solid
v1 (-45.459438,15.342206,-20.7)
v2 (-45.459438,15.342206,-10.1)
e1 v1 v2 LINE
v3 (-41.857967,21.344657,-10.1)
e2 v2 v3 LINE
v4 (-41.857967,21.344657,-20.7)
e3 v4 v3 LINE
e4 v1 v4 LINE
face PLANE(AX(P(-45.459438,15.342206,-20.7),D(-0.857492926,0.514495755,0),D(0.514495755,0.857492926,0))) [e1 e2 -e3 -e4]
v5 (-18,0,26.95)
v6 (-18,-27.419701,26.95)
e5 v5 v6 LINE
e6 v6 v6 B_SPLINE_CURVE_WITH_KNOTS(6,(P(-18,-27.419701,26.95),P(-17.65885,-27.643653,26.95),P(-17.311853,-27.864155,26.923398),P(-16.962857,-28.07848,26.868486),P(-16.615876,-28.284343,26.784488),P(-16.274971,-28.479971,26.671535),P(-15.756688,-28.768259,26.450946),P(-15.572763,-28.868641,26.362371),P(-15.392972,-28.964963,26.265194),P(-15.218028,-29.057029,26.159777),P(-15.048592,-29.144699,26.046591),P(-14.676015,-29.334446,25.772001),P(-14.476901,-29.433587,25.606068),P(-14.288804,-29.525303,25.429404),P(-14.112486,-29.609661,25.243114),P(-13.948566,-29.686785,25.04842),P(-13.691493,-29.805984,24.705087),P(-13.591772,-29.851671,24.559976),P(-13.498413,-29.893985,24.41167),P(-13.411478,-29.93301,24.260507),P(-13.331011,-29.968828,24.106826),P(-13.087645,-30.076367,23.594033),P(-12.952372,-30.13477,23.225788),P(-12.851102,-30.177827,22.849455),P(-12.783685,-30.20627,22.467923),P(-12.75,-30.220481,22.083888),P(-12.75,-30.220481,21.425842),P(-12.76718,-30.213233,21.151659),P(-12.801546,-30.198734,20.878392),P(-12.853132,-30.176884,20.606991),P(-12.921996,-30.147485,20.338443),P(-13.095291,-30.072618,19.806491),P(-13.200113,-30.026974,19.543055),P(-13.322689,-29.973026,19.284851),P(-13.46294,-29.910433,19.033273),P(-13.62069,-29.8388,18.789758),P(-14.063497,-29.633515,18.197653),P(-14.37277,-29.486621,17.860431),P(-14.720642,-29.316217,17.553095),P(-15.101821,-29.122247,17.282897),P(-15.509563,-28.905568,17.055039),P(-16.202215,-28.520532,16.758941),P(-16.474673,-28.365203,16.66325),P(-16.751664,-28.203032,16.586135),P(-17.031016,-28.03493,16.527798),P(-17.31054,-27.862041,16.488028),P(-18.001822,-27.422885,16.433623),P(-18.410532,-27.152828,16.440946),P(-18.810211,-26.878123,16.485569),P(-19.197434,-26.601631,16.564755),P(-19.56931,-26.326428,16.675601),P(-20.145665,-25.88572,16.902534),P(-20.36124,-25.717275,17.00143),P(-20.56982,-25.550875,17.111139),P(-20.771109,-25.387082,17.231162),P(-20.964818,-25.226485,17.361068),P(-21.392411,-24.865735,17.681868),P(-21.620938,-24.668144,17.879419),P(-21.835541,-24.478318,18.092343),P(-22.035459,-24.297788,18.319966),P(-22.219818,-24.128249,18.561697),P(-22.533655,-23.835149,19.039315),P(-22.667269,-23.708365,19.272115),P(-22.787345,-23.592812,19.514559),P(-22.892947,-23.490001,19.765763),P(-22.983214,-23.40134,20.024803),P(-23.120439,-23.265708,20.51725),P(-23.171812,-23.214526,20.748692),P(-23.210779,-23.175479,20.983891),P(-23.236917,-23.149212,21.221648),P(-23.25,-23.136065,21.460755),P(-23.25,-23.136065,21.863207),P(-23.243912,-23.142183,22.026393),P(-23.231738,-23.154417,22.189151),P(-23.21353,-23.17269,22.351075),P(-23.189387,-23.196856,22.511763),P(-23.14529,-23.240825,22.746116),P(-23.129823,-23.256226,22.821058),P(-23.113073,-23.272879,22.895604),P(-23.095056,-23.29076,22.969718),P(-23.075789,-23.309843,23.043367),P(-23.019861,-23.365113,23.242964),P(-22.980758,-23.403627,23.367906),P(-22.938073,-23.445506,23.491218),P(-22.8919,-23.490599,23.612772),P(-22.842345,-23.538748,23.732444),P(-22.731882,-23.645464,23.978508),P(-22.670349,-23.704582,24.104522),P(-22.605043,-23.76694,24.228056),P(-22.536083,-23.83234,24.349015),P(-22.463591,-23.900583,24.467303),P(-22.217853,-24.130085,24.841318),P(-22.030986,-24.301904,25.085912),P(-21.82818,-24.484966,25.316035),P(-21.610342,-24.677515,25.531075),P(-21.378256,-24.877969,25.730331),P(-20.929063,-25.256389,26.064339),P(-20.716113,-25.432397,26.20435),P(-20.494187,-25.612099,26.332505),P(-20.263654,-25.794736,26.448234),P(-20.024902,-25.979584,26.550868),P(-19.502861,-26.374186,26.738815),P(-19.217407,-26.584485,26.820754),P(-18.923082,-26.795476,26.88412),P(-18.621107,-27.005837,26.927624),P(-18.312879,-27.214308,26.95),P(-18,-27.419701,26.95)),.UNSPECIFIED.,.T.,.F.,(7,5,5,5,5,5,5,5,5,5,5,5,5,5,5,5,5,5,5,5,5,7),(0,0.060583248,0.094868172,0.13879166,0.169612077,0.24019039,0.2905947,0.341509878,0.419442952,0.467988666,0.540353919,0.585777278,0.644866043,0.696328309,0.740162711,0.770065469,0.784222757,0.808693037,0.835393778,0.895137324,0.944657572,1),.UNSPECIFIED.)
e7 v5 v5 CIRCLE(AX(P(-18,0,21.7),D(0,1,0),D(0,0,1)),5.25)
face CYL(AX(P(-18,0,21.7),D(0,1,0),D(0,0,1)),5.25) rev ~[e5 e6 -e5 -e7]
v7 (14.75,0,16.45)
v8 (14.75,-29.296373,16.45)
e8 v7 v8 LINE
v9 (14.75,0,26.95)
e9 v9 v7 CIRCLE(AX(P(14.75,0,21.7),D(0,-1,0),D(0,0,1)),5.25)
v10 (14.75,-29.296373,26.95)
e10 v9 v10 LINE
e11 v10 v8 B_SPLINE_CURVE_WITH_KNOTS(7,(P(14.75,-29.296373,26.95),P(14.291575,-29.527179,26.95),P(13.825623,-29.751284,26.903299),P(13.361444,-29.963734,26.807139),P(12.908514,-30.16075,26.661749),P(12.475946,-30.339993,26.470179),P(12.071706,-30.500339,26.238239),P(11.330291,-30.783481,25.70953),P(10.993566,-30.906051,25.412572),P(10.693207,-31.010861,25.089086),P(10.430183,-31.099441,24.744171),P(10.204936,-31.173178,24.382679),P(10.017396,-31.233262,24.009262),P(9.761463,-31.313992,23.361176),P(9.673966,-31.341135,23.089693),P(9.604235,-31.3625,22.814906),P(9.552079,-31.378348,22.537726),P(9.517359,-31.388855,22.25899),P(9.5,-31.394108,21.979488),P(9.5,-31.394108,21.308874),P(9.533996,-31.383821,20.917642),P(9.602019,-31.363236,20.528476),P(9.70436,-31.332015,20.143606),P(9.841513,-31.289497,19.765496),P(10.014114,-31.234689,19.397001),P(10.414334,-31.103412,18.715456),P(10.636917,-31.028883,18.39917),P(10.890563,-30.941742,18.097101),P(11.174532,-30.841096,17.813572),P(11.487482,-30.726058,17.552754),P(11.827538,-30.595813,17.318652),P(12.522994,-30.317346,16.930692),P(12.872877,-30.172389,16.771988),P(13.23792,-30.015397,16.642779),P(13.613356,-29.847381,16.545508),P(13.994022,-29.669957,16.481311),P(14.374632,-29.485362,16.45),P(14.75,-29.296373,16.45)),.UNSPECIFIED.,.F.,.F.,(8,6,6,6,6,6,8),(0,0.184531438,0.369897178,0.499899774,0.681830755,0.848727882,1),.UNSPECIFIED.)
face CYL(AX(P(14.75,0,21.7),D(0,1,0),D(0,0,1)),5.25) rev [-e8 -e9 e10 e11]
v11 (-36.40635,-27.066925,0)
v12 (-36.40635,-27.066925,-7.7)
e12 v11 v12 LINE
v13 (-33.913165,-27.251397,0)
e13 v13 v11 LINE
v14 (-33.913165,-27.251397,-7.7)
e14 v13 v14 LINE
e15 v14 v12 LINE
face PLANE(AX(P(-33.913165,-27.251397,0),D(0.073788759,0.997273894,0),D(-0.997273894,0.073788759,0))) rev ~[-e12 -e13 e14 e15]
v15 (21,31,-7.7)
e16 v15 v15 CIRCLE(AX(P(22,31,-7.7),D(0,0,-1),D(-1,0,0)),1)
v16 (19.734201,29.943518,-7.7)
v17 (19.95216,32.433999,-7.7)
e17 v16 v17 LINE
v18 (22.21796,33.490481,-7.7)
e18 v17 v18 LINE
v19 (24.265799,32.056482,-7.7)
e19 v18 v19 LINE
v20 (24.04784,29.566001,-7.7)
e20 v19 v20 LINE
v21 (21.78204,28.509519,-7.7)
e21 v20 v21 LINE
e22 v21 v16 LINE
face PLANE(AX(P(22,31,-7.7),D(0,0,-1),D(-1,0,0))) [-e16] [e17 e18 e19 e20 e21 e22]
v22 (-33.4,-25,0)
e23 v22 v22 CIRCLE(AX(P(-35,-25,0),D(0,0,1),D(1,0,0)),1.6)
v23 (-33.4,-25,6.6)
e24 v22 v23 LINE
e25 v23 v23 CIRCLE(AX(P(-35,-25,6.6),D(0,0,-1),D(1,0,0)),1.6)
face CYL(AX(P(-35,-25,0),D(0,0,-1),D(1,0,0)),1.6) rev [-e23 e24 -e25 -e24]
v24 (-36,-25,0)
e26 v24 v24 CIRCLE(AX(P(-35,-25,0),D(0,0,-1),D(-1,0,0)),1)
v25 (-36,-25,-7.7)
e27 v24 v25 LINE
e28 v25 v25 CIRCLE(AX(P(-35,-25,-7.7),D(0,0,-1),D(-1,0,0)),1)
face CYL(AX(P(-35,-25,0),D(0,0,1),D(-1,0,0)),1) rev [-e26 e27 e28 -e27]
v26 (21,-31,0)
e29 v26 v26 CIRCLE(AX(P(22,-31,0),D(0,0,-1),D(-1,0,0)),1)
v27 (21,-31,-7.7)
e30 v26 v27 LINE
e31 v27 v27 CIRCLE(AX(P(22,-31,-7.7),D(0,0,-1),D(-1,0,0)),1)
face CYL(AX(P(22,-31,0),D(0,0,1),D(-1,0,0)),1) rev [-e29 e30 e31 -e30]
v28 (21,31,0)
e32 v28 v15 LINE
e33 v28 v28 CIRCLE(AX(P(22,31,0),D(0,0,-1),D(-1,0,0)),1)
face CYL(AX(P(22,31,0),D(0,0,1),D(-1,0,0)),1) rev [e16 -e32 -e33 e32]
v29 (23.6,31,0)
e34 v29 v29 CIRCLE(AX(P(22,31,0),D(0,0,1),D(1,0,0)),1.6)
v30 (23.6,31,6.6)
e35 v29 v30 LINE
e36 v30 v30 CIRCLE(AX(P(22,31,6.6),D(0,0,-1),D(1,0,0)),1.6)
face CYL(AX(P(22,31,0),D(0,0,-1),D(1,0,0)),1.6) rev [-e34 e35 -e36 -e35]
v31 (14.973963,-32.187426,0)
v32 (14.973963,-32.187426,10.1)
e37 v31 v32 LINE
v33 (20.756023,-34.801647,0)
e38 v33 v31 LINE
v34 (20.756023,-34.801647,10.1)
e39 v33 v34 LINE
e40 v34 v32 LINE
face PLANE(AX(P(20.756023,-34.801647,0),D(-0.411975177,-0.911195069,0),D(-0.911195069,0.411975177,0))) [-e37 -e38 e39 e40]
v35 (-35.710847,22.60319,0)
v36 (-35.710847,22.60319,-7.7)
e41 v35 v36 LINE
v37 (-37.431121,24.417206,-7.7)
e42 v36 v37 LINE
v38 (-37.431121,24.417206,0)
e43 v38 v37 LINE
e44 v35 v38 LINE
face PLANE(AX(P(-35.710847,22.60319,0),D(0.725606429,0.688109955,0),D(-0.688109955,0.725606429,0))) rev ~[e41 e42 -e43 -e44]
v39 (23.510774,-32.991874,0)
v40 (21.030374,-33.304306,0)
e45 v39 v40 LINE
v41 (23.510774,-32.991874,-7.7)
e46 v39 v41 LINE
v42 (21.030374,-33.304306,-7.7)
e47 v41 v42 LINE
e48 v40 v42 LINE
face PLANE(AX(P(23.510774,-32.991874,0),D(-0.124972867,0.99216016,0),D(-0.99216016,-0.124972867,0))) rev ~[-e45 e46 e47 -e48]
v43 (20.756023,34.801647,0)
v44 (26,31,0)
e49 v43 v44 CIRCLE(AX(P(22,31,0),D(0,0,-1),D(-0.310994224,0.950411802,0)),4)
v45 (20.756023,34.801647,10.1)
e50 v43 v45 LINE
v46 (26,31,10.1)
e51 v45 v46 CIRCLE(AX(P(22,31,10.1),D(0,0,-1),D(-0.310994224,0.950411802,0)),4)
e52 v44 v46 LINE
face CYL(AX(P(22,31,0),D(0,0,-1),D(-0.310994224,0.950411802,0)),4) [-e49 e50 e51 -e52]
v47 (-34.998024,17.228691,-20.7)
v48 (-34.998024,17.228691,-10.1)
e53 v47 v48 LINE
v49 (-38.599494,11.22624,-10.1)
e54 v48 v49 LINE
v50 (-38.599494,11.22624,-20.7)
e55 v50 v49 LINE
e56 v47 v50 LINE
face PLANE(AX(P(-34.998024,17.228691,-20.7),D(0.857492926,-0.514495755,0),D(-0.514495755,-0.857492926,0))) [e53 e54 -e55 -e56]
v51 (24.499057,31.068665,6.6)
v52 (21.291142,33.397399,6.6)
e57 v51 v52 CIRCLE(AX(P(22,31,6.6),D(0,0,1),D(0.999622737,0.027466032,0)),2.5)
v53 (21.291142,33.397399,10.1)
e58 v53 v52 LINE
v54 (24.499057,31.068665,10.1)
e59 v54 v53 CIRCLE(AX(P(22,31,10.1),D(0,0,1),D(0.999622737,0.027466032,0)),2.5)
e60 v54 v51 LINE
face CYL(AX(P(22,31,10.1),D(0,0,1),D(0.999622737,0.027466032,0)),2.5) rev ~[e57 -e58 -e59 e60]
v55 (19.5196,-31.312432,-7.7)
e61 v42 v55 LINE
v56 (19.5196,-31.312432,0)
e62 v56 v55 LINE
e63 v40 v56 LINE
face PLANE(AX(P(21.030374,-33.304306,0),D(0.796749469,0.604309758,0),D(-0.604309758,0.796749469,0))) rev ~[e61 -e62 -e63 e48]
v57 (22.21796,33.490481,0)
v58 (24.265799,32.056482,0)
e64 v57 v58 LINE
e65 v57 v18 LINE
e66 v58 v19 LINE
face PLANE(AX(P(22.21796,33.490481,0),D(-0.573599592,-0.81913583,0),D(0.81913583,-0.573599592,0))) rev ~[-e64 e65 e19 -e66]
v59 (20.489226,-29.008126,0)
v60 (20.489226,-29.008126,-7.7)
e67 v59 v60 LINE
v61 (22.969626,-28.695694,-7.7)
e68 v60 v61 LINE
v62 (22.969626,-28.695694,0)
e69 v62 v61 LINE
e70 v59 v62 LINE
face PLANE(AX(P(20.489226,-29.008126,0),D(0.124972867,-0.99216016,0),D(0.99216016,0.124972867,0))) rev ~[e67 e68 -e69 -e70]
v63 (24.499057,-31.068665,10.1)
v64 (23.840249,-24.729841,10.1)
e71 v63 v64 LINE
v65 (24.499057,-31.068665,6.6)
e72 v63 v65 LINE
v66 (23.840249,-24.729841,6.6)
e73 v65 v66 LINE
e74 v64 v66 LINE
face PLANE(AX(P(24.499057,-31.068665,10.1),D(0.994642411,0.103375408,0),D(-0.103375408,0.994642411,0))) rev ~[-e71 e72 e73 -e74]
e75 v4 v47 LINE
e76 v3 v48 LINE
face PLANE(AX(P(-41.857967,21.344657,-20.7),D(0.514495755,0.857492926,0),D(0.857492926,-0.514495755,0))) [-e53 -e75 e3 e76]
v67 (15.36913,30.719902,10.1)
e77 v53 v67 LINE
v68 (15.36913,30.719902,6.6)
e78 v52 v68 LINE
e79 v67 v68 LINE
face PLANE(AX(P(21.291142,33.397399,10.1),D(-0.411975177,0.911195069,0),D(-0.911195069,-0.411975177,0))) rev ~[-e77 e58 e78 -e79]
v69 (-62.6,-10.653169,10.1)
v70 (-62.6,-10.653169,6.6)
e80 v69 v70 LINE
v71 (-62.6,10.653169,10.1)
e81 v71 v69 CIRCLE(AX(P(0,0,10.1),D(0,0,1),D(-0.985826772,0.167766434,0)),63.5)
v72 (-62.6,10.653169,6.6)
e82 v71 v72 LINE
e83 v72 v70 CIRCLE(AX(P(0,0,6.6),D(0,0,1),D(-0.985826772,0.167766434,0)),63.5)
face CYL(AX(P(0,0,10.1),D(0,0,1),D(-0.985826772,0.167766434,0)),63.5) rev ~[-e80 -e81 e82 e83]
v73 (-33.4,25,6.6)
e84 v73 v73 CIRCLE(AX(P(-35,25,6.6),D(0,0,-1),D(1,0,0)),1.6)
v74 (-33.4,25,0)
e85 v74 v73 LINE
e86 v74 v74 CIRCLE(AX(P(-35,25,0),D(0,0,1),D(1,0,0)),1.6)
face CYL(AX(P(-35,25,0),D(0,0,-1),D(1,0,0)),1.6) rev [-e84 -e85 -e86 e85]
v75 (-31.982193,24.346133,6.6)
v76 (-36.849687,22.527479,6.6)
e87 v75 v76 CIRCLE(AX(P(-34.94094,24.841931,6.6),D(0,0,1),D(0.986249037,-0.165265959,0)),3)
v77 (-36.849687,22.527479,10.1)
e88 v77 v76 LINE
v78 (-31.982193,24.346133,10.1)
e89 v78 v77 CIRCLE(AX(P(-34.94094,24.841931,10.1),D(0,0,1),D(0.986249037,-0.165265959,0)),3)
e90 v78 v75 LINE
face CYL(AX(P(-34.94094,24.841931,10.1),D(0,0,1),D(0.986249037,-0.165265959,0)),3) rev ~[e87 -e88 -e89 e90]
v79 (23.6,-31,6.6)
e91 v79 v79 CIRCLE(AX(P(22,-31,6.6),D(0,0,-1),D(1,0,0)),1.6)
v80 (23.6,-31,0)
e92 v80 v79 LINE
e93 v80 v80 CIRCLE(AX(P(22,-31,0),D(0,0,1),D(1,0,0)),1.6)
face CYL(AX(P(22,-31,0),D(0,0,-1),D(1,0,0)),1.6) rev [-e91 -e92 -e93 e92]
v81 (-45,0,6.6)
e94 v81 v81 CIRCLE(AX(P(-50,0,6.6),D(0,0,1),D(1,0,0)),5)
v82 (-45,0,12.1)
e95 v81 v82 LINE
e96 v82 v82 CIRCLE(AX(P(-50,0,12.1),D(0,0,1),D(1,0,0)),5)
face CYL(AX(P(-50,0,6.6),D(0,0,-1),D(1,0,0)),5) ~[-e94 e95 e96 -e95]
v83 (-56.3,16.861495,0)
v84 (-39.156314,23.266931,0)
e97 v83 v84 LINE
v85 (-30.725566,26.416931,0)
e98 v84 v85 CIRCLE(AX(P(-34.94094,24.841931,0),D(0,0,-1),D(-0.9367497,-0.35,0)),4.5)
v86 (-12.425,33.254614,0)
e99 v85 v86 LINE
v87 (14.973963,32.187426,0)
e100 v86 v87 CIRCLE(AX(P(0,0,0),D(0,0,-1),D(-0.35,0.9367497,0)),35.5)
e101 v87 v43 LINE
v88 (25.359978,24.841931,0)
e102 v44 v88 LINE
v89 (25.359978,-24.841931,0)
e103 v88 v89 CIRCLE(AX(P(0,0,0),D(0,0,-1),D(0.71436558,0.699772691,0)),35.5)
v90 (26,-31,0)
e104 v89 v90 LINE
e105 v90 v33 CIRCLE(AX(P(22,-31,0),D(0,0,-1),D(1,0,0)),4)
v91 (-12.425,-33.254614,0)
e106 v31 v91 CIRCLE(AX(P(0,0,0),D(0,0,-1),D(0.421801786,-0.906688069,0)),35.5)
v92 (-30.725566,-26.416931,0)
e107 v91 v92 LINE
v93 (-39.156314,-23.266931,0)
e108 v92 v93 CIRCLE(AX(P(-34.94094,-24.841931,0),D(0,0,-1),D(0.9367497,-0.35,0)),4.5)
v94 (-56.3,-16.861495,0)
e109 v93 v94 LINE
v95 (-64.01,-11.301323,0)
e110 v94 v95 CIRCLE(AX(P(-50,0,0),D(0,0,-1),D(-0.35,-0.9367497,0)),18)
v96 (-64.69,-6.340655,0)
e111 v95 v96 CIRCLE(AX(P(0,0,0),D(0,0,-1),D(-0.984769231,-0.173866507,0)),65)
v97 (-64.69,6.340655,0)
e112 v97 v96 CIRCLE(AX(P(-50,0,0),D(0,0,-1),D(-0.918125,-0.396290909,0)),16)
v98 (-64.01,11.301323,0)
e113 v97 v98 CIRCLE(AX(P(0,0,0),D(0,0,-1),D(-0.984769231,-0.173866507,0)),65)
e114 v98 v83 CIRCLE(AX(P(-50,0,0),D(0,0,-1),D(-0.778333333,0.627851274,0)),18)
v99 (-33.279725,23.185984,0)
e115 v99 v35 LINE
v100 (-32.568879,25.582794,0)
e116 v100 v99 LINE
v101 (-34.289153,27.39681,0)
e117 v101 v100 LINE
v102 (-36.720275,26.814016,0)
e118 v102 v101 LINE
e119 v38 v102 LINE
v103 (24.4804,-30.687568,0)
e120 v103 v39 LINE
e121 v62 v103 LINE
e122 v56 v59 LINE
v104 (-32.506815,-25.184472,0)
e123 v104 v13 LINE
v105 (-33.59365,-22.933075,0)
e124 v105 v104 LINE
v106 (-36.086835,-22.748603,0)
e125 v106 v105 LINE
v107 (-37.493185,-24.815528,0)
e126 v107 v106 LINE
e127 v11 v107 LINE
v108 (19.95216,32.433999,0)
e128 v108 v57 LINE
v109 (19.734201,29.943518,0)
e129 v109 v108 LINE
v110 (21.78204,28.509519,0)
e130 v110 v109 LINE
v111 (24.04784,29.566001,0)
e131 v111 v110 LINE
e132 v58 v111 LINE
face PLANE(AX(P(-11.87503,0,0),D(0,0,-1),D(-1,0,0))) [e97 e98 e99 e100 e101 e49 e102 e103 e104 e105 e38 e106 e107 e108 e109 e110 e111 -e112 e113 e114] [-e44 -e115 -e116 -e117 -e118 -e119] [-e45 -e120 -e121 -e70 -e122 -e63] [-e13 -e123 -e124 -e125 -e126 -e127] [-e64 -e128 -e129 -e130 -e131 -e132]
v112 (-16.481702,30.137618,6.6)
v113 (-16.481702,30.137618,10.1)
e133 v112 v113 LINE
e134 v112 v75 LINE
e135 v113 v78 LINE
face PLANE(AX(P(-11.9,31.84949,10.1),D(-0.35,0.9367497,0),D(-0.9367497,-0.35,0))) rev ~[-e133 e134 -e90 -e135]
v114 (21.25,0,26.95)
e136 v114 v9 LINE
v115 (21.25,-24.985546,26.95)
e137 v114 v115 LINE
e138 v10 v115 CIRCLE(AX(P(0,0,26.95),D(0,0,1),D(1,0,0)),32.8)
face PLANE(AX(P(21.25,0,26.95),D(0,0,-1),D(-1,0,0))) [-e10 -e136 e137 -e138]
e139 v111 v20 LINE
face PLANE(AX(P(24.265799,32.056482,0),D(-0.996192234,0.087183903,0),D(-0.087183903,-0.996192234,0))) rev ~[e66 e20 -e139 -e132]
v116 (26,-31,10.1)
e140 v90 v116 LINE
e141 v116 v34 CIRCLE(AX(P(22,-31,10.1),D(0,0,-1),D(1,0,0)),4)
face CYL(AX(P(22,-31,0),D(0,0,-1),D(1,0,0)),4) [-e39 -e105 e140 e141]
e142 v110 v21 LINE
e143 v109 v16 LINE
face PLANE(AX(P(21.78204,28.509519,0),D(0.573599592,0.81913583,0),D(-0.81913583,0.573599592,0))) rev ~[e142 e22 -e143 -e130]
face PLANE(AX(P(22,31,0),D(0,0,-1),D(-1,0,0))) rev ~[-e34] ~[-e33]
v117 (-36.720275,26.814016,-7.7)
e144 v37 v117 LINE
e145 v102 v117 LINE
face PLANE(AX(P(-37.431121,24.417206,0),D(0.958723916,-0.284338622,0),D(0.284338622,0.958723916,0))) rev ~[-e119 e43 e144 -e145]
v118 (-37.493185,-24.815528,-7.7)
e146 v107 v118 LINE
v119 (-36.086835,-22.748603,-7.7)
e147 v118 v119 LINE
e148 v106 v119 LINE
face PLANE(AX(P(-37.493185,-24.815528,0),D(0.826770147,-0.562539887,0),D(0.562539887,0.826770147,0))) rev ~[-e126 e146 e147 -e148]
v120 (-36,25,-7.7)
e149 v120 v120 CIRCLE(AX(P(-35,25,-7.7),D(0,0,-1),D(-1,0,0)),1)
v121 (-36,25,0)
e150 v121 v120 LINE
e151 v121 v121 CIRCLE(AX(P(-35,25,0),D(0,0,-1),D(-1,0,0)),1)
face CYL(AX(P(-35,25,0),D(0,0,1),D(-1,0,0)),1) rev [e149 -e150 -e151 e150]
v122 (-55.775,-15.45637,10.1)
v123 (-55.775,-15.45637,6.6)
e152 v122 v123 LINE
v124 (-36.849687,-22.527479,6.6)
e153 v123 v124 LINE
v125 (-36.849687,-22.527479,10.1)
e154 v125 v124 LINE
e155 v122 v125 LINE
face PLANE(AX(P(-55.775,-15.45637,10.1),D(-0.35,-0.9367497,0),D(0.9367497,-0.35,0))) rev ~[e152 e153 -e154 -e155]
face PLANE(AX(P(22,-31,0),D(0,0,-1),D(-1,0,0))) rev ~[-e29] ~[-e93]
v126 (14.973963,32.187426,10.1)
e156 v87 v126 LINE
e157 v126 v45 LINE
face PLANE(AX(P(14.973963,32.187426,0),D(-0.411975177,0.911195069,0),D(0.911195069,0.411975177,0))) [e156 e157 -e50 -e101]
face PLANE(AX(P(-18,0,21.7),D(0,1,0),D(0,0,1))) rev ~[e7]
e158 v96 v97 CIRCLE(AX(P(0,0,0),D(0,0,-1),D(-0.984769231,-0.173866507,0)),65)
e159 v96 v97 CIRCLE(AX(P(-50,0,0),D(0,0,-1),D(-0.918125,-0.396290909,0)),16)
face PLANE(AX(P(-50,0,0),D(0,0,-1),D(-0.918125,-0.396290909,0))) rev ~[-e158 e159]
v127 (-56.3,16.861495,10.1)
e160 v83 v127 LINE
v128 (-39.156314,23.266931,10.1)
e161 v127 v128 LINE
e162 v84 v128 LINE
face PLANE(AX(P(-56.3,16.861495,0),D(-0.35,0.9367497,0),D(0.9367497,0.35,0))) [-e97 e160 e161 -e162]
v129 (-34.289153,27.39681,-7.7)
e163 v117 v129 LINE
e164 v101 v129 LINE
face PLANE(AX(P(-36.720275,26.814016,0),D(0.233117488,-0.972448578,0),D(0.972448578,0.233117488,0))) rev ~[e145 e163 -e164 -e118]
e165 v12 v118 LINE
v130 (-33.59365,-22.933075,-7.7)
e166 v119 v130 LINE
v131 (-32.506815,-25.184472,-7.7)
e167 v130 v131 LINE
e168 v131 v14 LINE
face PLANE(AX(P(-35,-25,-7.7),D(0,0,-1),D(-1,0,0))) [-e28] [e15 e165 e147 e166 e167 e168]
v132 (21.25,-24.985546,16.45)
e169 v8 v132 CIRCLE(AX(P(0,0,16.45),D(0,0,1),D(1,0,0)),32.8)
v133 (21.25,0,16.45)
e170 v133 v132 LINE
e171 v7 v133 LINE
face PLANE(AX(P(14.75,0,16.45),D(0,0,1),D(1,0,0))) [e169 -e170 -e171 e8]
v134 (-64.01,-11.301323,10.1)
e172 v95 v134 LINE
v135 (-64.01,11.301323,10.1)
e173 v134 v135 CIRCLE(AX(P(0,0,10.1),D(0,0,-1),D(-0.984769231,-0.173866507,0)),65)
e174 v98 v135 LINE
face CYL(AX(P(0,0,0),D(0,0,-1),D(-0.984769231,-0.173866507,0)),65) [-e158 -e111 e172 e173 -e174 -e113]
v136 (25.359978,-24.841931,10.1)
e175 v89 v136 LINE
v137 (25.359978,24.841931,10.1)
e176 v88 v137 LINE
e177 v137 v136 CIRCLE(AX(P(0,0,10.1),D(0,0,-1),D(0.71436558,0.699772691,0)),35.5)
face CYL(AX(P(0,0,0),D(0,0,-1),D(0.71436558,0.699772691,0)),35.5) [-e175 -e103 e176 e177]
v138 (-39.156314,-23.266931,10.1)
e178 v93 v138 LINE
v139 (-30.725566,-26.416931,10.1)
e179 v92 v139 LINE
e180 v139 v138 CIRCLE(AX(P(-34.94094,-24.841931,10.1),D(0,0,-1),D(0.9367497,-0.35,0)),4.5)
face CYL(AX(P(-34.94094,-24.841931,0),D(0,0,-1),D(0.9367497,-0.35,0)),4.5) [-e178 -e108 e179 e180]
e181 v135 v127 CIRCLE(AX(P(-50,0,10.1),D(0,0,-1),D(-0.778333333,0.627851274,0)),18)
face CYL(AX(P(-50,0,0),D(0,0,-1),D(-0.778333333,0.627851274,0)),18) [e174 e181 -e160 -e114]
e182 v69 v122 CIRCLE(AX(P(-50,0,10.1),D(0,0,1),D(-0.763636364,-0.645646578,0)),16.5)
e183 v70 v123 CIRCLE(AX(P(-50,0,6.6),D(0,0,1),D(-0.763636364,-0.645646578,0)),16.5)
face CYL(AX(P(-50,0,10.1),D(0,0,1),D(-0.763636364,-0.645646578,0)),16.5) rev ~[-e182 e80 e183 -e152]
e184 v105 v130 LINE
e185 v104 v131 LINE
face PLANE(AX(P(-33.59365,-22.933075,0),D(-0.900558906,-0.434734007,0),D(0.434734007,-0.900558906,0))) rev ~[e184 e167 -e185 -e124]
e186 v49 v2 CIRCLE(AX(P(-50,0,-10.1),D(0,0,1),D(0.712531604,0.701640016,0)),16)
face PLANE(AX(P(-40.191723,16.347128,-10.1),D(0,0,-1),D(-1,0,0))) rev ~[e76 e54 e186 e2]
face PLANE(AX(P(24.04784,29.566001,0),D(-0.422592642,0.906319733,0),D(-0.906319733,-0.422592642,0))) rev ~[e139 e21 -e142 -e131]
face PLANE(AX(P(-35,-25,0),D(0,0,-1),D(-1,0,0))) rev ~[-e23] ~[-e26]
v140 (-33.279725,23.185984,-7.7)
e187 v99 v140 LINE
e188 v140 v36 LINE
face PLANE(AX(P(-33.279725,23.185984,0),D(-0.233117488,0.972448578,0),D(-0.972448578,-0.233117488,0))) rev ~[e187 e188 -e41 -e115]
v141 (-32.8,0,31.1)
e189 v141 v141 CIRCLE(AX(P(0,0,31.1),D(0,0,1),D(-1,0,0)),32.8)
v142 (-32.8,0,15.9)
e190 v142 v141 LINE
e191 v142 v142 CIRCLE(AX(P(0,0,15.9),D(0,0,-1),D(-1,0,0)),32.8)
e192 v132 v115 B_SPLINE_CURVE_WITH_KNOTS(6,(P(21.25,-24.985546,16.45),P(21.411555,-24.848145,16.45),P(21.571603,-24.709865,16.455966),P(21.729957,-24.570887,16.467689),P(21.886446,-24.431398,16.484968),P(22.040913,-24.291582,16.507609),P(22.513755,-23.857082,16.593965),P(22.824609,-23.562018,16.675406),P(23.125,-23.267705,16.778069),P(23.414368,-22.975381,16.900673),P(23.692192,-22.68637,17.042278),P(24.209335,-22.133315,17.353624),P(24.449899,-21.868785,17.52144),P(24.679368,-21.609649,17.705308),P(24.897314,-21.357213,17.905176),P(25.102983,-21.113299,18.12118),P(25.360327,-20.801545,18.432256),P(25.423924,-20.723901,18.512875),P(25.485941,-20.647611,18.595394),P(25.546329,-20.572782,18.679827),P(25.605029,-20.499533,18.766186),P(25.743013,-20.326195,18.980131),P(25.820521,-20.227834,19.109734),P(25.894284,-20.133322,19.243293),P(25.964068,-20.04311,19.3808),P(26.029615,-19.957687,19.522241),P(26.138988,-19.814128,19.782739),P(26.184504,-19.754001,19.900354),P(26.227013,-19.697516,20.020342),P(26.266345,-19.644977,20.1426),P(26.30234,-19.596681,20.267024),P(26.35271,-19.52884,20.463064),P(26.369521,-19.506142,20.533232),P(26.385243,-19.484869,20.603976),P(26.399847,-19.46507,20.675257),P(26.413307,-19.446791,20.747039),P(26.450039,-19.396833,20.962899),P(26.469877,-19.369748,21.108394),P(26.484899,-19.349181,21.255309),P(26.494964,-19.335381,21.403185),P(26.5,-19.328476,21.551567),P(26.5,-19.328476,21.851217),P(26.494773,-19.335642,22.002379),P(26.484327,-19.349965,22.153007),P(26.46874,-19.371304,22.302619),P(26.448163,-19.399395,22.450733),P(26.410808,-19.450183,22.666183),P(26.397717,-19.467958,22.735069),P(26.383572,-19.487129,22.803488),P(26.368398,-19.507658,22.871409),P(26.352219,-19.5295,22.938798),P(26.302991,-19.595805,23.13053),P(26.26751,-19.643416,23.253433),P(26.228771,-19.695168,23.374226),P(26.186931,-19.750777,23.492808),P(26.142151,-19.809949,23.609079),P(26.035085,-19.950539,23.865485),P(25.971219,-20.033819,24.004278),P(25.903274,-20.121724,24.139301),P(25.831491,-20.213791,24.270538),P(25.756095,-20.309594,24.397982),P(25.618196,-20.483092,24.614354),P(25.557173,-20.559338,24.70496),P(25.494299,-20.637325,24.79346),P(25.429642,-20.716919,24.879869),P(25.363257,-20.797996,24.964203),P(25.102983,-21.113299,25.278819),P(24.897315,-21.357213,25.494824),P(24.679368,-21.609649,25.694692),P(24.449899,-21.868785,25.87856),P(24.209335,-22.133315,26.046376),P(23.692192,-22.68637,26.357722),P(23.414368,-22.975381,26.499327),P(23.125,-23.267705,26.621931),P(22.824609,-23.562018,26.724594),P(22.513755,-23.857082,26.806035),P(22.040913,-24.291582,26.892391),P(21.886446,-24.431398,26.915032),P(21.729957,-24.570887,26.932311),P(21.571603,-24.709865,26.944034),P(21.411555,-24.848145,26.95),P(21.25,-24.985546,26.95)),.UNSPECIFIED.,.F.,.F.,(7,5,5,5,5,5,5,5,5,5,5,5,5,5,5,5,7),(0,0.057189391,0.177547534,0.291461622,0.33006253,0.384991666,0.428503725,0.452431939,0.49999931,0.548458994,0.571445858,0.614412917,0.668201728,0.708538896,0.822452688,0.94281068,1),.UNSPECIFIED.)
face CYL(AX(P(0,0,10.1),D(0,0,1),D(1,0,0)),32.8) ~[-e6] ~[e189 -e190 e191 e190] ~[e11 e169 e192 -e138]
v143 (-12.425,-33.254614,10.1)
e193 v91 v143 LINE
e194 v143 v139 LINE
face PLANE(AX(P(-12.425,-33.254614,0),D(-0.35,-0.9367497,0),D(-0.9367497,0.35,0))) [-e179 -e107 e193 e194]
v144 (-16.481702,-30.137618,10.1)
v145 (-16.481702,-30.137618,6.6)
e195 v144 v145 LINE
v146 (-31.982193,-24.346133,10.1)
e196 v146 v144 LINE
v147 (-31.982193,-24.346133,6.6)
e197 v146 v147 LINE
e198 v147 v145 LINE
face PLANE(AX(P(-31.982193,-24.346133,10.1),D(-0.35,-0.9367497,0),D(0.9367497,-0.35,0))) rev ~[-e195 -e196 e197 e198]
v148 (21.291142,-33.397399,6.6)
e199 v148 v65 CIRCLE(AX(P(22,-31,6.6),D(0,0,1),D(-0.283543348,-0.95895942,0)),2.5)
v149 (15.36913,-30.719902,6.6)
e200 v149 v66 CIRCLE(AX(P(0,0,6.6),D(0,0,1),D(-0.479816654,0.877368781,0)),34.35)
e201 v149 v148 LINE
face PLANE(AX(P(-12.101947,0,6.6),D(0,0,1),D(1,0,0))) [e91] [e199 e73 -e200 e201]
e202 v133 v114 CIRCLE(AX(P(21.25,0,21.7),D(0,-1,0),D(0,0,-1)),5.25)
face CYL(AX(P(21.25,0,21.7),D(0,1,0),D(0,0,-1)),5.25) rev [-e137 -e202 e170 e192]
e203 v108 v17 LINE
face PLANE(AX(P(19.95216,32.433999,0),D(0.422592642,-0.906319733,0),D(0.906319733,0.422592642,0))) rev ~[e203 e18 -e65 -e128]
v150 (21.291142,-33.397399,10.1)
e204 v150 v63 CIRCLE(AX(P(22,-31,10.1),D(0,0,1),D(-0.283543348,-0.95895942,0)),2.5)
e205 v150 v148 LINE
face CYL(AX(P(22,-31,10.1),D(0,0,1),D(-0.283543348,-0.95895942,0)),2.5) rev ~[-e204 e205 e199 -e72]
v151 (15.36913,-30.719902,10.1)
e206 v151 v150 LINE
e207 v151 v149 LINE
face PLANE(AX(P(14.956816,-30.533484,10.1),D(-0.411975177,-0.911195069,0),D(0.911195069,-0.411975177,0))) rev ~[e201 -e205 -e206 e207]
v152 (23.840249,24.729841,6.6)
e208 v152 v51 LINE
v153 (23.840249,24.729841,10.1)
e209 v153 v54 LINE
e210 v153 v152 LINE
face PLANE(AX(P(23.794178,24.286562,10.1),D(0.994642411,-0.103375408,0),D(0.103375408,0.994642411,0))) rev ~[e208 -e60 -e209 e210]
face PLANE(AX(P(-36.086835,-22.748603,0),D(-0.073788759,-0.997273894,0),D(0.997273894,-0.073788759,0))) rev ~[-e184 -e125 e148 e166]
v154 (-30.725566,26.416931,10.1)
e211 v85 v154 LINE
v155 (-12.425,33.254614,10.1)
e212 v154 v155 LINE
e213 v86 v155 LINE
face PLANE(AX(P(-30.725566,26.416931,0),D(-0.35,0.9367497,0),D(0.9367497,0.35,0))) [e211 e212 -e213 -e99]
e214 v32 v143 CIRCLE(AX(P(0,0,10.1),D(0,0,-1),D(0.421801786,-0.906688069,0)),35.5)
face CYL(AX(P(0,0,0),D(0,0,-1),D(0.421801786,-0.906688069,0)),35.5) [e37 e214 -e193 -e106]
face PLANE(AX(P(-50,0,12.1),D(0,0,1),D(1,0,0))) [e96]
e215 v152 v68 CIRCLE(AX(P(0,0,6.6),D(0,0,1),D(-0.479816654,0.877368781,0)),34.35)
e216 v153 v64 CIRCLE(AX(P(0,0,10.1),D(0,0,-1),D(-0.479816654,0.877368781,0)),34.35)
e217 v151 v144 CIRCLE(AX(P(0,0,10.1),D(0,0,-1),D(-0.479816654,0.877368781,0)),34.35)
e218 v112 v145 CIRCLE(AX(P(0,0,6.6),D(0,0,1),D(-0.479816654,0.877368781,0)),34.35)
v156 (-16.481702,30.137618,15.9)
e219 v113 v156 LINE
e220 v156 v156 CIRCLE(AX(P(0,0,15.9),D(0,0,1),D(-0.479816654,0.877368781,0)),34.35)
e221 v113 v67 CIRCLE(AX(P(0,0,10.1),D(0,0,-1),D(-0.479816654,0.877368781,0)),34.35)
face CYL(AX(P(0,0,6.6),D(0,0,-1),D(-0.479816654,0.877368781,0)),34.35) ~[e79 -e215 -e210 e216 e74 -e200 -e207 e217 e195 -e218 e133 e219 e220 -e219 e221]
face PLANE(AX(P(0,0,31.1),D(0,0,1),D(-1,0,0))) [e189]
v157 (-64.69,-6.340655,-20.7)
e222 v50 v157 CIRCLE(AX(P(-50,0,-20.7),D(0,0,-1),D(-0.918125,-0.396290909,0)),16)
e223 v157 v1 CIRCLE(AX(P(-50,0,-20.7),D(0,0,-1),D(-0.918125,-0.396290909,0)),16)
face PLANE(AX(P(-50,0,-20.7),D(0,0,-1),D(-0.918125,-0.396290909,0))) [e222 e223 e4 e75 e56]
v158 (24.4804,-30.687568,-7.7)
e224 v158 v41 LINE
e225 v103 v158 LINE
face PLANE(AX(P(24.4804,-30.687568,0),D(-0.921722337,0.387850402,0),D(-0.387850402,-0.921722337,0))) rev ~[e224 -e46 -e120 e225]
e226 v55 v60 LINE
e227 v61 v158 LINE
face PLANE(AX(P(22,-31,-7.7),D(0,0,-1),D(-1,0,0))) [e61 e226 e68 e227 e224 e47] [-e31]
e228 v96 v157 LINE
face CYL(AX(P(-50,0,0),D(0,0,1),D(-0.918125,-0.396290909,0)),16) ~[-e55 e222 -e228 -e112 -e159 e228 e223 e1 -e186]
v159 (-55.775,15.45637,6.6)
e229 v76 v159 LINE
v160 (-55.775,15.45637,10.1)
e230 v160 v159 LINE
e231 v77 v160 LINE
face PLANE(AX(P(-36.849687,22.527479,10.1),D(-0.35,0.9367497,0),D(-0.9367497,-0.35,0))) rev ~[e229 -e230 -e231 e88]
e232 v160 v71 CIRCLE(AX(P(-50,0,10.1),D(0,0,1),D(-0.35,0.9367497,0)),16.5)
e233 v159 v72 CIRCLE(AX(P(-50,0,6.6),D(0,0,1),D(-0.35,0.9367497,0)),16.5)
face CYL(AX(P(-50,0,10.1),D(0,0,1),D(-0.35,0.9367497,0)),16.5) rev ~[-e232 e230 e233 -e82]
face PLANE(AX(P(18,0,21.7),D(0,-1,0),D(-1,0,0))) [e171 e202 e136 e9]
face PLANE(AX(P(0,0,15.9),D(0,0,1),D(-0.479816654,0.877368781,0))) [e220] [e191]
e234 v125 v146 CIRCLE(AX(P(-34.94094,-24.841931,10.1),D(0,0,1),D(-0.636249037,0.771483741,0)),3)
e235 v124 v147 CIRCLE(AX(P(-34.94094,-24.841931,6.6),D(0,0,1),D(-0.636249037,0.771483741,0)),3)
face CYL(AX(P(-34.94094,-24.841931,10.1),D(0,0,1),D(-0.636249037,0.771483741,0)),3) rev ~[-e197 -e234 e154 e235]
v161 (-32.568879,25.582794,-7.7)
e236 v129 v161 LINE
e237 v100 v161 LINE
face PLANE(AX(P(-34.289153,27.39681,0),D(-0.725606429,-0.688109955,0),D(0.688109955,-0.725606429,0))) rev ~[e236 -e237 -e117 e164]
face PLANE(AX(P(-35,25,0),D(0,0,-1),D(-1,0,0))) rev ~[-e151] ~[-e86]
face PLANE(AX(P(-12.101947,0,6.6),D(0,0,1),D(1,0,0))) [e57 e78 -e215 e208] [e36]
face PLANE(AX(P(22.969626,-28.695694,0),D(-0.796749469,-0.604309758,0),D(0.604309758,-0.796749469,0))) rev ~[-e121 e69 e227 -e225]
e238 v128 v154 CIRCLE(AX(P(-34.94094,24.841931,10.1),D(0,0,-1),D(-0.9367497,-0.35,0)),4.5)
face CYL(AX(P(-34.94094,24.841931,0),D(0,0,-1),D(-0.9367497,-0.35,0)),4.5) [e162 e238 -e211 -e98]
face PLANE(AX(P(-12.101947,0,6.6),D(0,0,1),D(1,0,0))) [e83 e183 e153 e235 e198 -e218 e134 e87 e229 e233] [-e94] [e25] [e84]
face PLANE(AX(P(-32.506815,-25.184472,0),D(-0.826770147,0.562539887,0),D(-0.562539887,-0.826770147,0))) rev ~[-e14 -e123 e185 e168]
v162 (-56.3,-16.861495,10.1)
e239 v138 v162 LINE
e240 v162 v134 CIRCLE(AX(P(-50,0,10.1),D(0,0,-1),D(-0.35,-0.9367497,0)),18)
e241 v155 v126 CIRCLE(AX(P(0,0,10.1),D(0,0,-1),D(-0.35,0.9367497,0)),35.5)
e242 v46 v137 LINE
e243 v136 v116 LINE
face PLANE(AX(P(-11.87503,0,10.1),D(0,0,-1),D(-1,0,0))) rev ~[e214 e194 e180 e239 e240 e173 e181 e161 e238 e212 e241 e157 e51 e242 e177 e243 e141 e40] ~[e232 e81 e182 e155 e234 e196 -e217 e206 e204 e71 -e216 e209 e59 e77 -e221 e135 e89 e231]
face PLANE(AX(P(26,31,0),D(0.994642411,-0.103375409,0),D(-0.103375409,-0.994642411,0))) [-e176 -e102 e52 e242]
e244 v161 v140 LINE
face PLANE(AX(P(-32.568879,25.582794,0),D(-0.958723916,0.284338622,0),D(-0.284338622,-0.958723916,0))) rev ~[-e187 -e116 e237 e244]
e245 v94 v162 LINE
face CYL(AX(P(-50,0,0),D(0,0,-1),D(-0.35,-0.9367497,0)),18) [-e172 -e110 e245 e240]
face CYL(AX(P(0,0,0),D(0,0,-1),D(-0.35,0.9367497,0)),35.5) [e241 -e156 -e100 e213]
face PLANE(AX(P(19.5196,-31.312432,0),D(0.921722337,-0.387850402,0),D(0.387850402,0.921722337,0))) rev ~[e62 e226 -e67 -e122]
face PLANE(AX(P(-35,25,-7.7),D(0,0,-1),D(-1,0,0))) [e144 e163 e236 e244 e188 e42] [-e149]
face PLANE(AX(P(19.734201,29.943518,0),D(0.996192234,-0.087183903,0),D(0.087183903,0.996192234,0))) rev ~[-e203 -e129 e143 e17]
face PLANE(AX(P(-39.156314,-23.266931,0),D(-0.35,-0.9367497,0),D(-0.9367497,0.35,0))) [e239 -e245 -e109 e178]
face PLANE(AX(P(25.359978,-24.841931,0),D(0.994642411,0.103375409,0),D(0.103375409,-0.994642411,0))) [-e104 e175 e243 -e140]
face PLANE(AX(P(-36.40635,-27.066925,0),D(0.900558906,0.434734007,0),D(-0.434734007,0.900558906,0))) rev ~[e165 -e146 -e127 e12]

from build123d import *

# Parameters (mm, degrees)
ESQUISSE1_R             = 1.6
BOSS_EXTRU_1_DEPTH      = 10.1
ESQUISSE2_R             = 32.8
BOSS_EXTRU_2_DEPTH      = 21
ENL_V_MAT_EXTRU_1_DEPTH = 3.5
ESQUISSE4_R             = 32.8
BOSS_EXTRU_3_DEPTH      = 3.5
ESQUISSE5_R             = 16
BOSS_EXTRU_4_DEPTH      = 20.7
ESQUISSE8_R             = 5
BOSS_EXTRU_7_DEPTH      = 5.5
SKETCH6_R               = 34.35
BOSS_EXTRUDE3_DEPTH     = 9.3
CUT_EXTRUDE1_REACH      = 83.139
CUT_EXTRUDE1_END_RADIUS = 32.8
SKETCH5_R               = 5.25
ESQUISSE6_R             = 1
BOSS_EXTRU_5_DEPTH      = 7.7
BOSS_EXTRUDE4_DEPTH     = 10.6


with BuildPart() as part:
    # Esquisse1 → Boss.-Extru.1 (new body)
    with BuildSketch(Plane.XY):
        with BuildLine():
            ThreePointArc((-56.3, -16.861494596), (-60.528670487, -14.599558136), (-64.01, -11.301322931))
            ThreePointArc((-64.01, -11.301322931), (-65, 0), (-64.01, 11.301322931))
            ThreePointArc((-64.01, 11.301322931), (-60.528670487, 14.599558136), (-56.3, 16.861494596))
            Line((-56.3, 16.861494596), (-39.156313776, 23.266930519))
            ThreePointArc((-39.156313776, 23.266930519), (-36.515940127, 29.057304168), (-30.725566478, 26.416930519))
            Line((-30.725566478, 26.416930519), (-12.425, 33.254614341))
            ThreePointArc((-12.425, 33.254614341), (1.381675102, 35.473102119), (14.973963383, 32.187426436))
            Line((14.973963383, 32.187426436), (20.756023105, 34.801647207))
            ThreePointArc((20.756023105, 34.801647207), (24.347774736, 34.238511045), (26, 31))
            Line((26, 31), (25.359978077, 24.841930519))
            ThreePointArc((25.359978077, 24.841930519), (35.5, 0), (25.359978077, -24.841930519))
            Line((25.359978077, -24.841930519), (26, -31))
            ThreePointArc((26, -31), (24.347774736, -34.238511045), (20.756023105, -34.801647207))
            Line((20.756023105, -34.801647207), (14.973963383, -32.187426436))
            ThreePointArc((14.973963383, -32.187426436), (1.381675102, -35.473102119), (-12.425, -33.254614341))
            Line((-12.425, -33.254614341), (-30.725566478, -26.416930519))
            ThreePointArc((-30.725566478, -26.416930519), (-36.515940127, -29.057304168), (-39.156313776, -23.266930519))
            Line((-39.156313776, -23.266930519), (-56.3, -16.861494596))
        make_face()
        with Locations((-35, -25)):
            Circle(ESQUISSE1_R, mode=Mode.SUBTRACT)
        with Locations((22, 31)):
            Circle(ESQUISSE1_R, mode=Mode.SUBTRACT)
        with Locations((-35, 25)):
            Circle(ESQUISSE1_R, mode=Mode.SUBTRACT)
        with Locations((22, -31)):
            Circle(ESQUISSE1_R, mode=Mode.SUBTRACT)
    extrude(amount=BOSS_EXTRU_1_DEPTH)

    # Esquisse2 → Boss.-Extru.2 (add)
    with BuildSketch(Plane.XY.offset(10.1)):
        with Locations(Location((0, 0, 0), (0, 0, 180))):
            Circle(ESQUISSE2_R)
    extrude(amount=BOSS_EXTRU_2_DEPTH)

    # Esquisse3 → Enlèv. mat.-Extru.1 (cut)
    with BuildSketch(Plane.XY.offset(10.1)):
        with BuildLine():
            Line((-55.775, -15.456370046), (-36.849687238, -22.527479296))
            ThreePointArc((-36.849687238, -22.527479296), (-35.990940127, -27.652179619), (-31.982193016, -24.346132644))
            Line((-31.982193016, -24.346132644), (-11.9, -31.849489792))
            ThreePointArc((-11.9, -31.849489792), (1.664031028, -33.959255009), (14.956816294, -30.533484019))
            Line((14.956816294, -30.533484019), (21.291141631, -33.397398551))
            ThreePointArc((21.291141631, -33.397398551), (23.468656713, -33.023128137), (24.499056843, -31.06866508))
            Line((24.499056843, -31.06866508), (23.79417774, -24.286562245))
            ThreePointArc((23.79417774, -24.286562245), (34, 0), (23.79417774, 24.286562245))
            Line((23.79417774, 24.286562245), (24.499056843, 31.06866508))
            ThreePointArc((24.499056843, 31.06866508), (23.468656713, 33.023128137), (21.291141631, 33.397398551))
            Line((21.291141631, 33.397398551), (14.956816294, 30.533484019))
            ThreePointArc((14.956816294, 30.533484019), (1.664031028, 33.959255009), (-11.9, 31.849489792))
            Line((-11.9, 31.849489792), (-31.982193016, 24.346132644))
            ThreePointArc((-31.982193016, 24.346132644), (-35.990940127, 27.652179619), (-36.849687238, 22.527479296))
            Line((-36.849687238, 22.527479296), (-55.775, 15.456370046))
            ThreePointArc((-55.775, 15.456370046), (-59.496201473, 13.493411636), (-62.6, 10.653168543))
            ThreePointArc((-62.6, 10.653168543), (-63.5, 0), (-62.6, -10.653168543))
            ThreePointArc((-62.6, -10.653168543), (-59.496201473, -13.493411636), (-55.775, -15.456370046))
        make_face()
    extrude(amount=-ENL_V_MAT_EXTRU_1_DEPTH, mode=Mode.SUBTRACT)


with BuildPart() as enl_v_mat_extru_1_piece_1:
    # of the separate pieces the step leaves, piece 1, a body of its own (enl_v_mat_extru_1_pieces)
    add(part.part.solids().sort_by_distance((-32.8, 0, 10.1))[0])



with BuildPart() as enl_v_mat_extru_1_piece_2:
    # of the separate pieces the step leaves, piece 2, a body of its own (enl_v_mat_extru_1_pieces)
    add(part.part.solids().sort_by_distance((-64.01, 11.301322931, 0))[0])


with BuildPart() as enl_v_mat_extru_1_piece_1_1:
    add(enl_v_mat_extru_1_piece_1.part)

    add(enl_v_mat_extru_1_piece_2.part)  # Boss.-Extru.3 merges Enlèv. mat.-Extru.1 piece 2
    # Esquisse4 → Boss.-Extru.3 (add)
    with BuildSketch(Plane(origin=(0, 0, 10.1), x_dir=(-1, 0, 0), z_dir=(0, 0, -1))):
        with Locations(Location((0, 0, 0), (0, 0, 180))):
            Circle(ESQUISSE4_R)
    extrude(amount=BOSS_EXTRU_3_DEPTH)

    # Esquisse5 → Boss.-Extru.4 (add)
    with BuildSketch(Plane(origin=(0, 0, 0), x_dir=(-1, 0, 0), z_dir=(0, 0, -1))):
        with Locations(Location((50, 0, 0), (0, 0, 336.653490915))):
            Circle(ESQUISSE5_R)
    extrude(amount=BOSS_EXTRU_4_DEPTH)

    # Esquisse8 → Boss.-Extru.7 (add)
    with BuildSketch(Plane.XY.offset(6.6)):
        with Locations((-50, 0)):
            Circle(ESQUISSE8_R)
    extrude(amount=BOSS_EXTRU_7_DEPTH)

    # Sketch6 → Boss-Extrude3 (add)
    with BuildSketch(Plane.XY.offset(6.6)):
        with Locations(Location((0, 0, 0), (0, 0, 118.673428071))):
            Circle(SKETCH6_R)
    extrude(amount=BOSS_EXTRUDE3_DEPTH)

    # Cut-Extrude1: up to this cylinder (the profile starts inside it)
    cut_extrude1_end = Plane(origin=(0, 0, 21.7), z_dir=(0, 0, 1)) * Cylinder(CUT_EXTRUDE1_END_RADIUS, 232.878, mode=Mode.PRIVATE)
    # Sketch5 → Cut-Extrude1 (cut, up to the surface)
    with BuildSketch(Plane(origin=(0, 0, 0), x_dir=(1, 0, 0), z_dir=(0, 1, 0)), mode=Mode.PRIVATE) as cut_extrude1_sk1:
        with Locations(Location((-18, -21.7, 0), (0, 0, 270))):
            Circle(SKETCH5_R)
    cut_extrude1_tool1 = extrude(cut_extrude1_sk1.sketch, amount=-CUT_EXTRUDE1_REACH, mode=Mode.PRIVATE) & cut_extrude1_end
    add(cut_extrude1_tool1.solids().sort_by_distance((-18, 0, 21.7))[0], mode=Mode.SUBTRACT)
    # Sketch5 → Cut-Extrude1 (cut, up to the surface)
    with BuildSketch(Plane(origin=(0, 0, 0), x_dir=(1, 0, 0), z_dir=(0, 1, 0)), mode=Mode.PRIVATE) as cut_extrude1_sk2:
        with BuildLine():
            Line((14.75, -16.45), (21.25, -16.45))
            ThreePointArc((21.25, -16.45), (26.5, -21.7), (21.25, -26.95))
            Line((21.25, -26.95), (14.75, -26.95))
            ThreePointArc((14.75, -26.95), (9.5, -21.7), (14.75, -16.45))
        make_face()
    cut_extrude1_tool2 = extrude(cut_extrude1_sk2.sketch, amount=-CUT_EXTRUDE1_REACH, mode=Mode.PRIVATE) & cut_extrude1_end
    add(cut_extrude1_tool2.solids().sort_by_distance((18, 0, 21.7))[0], mode=Mode.SUBTRACT)

    # Esquisse6 → Boss.-Extru.5 (add)
    # profile 1 of 4: a face of its own
    with BuildSketch(Plane(origin=(0, 0, 0), x_dir=(-1, 0, 0), z_dir=(0, 0, -1))):
        Polygon((-20.489225606, -29.008126327), (-22.969626005, -28.695694159), (-24.480400399, -30.687567832), (-23.510774394, -32.991873673), (-21.030373995, -33.304305841), (-19.519599601, -31.312432168), align=None)
        with Locations((-22, -31)):
            Circle(ESQUISSE6_R, mode=Mode.SUBTRACT)
    # profile 2 of 4: a face of its own
    with BuildSketch(Plane(origin=(0, 0, 0), x_dir=(-1, 0, 0), z_dir=(0, 0, -1))):
        Polygon((36.086835018, -22.748602735), (33.593650283, -22.933074633), (32.506815266, -25.184471898), (33.913164982, -27.251397265), (36.406349717, -27.066925367), (37.493184734, -24.815528102), align=None)
        with Locations((35, -25)):
            Circle(ESQUISSE6_R, mode=Mode.SUBTRACT)
    # profile 3 of 4: a face of its own
    with BuildSketch(Plane(origin=(0, 0, 0), x_dir=(-1, 0, 0), z_dir=(0, 0, -1))):
        Polygon((36.720274889, 26.814016072), (34.289153443, 27.396809791), (32.568878555, 25.582793719), (33.279725111, 23.185983928), (35.710846557, 22.603190209), (37.431121445, 24.417206281), align=None)
        with Locations((35, 25)):
            Circle(ESQUISSE6_R, mode=Mode.SUBTRACT)
    # profile 4 of 4: a face of its own
    with BuildSketch(Plane(origin=(0, 0, 0), x_dir=(-1, 0, 0), z_dir=(0, 0, -1))):
        Polygon((-19.952160425, 32.43399898), (-22.217959758, 33.490480585), (-24.265799333, 32.056481605), (-24.047839575, 29.56600102), (-21.782040242, 28.509519415), (-19.734200667, 29.943518395), align=None)
        with Locations((-22, 31)):
            Circle(ESQUISSE6_R, mode=Mode.SUBTRACT)
    extrude(amount=BOSS_EXTRU_5_DEPTH)

    # Sketch7 → Boss-Extrude4 (add)
    with BuildSketch(Plane(origin=(0, 0, -20.7), x_dir=(-1, 0, 0), z_dir=(0, 0, -1))):
        with BuildLine():
            Line((45.459437733, 15.342206305), (41.857967445, 21.344656785))
            Line((41.857967445, 21.344656785), (38.427995742, 19.286673763))
            Line((38.427995742, 19.286673763), (34.998024039, 17.228690741))
            Line((34.998024039, 17.228690741), (38.599494327, 11.226240261))
            ThreePointArc((38.599494327, 11.226240261), (41.768067913, 13.719886811), (45.459437733, 15.342206305))
        make_face()
    extrude(amount=-BOSS_EXTRUDE4_DEPTH)


solid = enl_v_mat_extru_1_piece_1_1.part
